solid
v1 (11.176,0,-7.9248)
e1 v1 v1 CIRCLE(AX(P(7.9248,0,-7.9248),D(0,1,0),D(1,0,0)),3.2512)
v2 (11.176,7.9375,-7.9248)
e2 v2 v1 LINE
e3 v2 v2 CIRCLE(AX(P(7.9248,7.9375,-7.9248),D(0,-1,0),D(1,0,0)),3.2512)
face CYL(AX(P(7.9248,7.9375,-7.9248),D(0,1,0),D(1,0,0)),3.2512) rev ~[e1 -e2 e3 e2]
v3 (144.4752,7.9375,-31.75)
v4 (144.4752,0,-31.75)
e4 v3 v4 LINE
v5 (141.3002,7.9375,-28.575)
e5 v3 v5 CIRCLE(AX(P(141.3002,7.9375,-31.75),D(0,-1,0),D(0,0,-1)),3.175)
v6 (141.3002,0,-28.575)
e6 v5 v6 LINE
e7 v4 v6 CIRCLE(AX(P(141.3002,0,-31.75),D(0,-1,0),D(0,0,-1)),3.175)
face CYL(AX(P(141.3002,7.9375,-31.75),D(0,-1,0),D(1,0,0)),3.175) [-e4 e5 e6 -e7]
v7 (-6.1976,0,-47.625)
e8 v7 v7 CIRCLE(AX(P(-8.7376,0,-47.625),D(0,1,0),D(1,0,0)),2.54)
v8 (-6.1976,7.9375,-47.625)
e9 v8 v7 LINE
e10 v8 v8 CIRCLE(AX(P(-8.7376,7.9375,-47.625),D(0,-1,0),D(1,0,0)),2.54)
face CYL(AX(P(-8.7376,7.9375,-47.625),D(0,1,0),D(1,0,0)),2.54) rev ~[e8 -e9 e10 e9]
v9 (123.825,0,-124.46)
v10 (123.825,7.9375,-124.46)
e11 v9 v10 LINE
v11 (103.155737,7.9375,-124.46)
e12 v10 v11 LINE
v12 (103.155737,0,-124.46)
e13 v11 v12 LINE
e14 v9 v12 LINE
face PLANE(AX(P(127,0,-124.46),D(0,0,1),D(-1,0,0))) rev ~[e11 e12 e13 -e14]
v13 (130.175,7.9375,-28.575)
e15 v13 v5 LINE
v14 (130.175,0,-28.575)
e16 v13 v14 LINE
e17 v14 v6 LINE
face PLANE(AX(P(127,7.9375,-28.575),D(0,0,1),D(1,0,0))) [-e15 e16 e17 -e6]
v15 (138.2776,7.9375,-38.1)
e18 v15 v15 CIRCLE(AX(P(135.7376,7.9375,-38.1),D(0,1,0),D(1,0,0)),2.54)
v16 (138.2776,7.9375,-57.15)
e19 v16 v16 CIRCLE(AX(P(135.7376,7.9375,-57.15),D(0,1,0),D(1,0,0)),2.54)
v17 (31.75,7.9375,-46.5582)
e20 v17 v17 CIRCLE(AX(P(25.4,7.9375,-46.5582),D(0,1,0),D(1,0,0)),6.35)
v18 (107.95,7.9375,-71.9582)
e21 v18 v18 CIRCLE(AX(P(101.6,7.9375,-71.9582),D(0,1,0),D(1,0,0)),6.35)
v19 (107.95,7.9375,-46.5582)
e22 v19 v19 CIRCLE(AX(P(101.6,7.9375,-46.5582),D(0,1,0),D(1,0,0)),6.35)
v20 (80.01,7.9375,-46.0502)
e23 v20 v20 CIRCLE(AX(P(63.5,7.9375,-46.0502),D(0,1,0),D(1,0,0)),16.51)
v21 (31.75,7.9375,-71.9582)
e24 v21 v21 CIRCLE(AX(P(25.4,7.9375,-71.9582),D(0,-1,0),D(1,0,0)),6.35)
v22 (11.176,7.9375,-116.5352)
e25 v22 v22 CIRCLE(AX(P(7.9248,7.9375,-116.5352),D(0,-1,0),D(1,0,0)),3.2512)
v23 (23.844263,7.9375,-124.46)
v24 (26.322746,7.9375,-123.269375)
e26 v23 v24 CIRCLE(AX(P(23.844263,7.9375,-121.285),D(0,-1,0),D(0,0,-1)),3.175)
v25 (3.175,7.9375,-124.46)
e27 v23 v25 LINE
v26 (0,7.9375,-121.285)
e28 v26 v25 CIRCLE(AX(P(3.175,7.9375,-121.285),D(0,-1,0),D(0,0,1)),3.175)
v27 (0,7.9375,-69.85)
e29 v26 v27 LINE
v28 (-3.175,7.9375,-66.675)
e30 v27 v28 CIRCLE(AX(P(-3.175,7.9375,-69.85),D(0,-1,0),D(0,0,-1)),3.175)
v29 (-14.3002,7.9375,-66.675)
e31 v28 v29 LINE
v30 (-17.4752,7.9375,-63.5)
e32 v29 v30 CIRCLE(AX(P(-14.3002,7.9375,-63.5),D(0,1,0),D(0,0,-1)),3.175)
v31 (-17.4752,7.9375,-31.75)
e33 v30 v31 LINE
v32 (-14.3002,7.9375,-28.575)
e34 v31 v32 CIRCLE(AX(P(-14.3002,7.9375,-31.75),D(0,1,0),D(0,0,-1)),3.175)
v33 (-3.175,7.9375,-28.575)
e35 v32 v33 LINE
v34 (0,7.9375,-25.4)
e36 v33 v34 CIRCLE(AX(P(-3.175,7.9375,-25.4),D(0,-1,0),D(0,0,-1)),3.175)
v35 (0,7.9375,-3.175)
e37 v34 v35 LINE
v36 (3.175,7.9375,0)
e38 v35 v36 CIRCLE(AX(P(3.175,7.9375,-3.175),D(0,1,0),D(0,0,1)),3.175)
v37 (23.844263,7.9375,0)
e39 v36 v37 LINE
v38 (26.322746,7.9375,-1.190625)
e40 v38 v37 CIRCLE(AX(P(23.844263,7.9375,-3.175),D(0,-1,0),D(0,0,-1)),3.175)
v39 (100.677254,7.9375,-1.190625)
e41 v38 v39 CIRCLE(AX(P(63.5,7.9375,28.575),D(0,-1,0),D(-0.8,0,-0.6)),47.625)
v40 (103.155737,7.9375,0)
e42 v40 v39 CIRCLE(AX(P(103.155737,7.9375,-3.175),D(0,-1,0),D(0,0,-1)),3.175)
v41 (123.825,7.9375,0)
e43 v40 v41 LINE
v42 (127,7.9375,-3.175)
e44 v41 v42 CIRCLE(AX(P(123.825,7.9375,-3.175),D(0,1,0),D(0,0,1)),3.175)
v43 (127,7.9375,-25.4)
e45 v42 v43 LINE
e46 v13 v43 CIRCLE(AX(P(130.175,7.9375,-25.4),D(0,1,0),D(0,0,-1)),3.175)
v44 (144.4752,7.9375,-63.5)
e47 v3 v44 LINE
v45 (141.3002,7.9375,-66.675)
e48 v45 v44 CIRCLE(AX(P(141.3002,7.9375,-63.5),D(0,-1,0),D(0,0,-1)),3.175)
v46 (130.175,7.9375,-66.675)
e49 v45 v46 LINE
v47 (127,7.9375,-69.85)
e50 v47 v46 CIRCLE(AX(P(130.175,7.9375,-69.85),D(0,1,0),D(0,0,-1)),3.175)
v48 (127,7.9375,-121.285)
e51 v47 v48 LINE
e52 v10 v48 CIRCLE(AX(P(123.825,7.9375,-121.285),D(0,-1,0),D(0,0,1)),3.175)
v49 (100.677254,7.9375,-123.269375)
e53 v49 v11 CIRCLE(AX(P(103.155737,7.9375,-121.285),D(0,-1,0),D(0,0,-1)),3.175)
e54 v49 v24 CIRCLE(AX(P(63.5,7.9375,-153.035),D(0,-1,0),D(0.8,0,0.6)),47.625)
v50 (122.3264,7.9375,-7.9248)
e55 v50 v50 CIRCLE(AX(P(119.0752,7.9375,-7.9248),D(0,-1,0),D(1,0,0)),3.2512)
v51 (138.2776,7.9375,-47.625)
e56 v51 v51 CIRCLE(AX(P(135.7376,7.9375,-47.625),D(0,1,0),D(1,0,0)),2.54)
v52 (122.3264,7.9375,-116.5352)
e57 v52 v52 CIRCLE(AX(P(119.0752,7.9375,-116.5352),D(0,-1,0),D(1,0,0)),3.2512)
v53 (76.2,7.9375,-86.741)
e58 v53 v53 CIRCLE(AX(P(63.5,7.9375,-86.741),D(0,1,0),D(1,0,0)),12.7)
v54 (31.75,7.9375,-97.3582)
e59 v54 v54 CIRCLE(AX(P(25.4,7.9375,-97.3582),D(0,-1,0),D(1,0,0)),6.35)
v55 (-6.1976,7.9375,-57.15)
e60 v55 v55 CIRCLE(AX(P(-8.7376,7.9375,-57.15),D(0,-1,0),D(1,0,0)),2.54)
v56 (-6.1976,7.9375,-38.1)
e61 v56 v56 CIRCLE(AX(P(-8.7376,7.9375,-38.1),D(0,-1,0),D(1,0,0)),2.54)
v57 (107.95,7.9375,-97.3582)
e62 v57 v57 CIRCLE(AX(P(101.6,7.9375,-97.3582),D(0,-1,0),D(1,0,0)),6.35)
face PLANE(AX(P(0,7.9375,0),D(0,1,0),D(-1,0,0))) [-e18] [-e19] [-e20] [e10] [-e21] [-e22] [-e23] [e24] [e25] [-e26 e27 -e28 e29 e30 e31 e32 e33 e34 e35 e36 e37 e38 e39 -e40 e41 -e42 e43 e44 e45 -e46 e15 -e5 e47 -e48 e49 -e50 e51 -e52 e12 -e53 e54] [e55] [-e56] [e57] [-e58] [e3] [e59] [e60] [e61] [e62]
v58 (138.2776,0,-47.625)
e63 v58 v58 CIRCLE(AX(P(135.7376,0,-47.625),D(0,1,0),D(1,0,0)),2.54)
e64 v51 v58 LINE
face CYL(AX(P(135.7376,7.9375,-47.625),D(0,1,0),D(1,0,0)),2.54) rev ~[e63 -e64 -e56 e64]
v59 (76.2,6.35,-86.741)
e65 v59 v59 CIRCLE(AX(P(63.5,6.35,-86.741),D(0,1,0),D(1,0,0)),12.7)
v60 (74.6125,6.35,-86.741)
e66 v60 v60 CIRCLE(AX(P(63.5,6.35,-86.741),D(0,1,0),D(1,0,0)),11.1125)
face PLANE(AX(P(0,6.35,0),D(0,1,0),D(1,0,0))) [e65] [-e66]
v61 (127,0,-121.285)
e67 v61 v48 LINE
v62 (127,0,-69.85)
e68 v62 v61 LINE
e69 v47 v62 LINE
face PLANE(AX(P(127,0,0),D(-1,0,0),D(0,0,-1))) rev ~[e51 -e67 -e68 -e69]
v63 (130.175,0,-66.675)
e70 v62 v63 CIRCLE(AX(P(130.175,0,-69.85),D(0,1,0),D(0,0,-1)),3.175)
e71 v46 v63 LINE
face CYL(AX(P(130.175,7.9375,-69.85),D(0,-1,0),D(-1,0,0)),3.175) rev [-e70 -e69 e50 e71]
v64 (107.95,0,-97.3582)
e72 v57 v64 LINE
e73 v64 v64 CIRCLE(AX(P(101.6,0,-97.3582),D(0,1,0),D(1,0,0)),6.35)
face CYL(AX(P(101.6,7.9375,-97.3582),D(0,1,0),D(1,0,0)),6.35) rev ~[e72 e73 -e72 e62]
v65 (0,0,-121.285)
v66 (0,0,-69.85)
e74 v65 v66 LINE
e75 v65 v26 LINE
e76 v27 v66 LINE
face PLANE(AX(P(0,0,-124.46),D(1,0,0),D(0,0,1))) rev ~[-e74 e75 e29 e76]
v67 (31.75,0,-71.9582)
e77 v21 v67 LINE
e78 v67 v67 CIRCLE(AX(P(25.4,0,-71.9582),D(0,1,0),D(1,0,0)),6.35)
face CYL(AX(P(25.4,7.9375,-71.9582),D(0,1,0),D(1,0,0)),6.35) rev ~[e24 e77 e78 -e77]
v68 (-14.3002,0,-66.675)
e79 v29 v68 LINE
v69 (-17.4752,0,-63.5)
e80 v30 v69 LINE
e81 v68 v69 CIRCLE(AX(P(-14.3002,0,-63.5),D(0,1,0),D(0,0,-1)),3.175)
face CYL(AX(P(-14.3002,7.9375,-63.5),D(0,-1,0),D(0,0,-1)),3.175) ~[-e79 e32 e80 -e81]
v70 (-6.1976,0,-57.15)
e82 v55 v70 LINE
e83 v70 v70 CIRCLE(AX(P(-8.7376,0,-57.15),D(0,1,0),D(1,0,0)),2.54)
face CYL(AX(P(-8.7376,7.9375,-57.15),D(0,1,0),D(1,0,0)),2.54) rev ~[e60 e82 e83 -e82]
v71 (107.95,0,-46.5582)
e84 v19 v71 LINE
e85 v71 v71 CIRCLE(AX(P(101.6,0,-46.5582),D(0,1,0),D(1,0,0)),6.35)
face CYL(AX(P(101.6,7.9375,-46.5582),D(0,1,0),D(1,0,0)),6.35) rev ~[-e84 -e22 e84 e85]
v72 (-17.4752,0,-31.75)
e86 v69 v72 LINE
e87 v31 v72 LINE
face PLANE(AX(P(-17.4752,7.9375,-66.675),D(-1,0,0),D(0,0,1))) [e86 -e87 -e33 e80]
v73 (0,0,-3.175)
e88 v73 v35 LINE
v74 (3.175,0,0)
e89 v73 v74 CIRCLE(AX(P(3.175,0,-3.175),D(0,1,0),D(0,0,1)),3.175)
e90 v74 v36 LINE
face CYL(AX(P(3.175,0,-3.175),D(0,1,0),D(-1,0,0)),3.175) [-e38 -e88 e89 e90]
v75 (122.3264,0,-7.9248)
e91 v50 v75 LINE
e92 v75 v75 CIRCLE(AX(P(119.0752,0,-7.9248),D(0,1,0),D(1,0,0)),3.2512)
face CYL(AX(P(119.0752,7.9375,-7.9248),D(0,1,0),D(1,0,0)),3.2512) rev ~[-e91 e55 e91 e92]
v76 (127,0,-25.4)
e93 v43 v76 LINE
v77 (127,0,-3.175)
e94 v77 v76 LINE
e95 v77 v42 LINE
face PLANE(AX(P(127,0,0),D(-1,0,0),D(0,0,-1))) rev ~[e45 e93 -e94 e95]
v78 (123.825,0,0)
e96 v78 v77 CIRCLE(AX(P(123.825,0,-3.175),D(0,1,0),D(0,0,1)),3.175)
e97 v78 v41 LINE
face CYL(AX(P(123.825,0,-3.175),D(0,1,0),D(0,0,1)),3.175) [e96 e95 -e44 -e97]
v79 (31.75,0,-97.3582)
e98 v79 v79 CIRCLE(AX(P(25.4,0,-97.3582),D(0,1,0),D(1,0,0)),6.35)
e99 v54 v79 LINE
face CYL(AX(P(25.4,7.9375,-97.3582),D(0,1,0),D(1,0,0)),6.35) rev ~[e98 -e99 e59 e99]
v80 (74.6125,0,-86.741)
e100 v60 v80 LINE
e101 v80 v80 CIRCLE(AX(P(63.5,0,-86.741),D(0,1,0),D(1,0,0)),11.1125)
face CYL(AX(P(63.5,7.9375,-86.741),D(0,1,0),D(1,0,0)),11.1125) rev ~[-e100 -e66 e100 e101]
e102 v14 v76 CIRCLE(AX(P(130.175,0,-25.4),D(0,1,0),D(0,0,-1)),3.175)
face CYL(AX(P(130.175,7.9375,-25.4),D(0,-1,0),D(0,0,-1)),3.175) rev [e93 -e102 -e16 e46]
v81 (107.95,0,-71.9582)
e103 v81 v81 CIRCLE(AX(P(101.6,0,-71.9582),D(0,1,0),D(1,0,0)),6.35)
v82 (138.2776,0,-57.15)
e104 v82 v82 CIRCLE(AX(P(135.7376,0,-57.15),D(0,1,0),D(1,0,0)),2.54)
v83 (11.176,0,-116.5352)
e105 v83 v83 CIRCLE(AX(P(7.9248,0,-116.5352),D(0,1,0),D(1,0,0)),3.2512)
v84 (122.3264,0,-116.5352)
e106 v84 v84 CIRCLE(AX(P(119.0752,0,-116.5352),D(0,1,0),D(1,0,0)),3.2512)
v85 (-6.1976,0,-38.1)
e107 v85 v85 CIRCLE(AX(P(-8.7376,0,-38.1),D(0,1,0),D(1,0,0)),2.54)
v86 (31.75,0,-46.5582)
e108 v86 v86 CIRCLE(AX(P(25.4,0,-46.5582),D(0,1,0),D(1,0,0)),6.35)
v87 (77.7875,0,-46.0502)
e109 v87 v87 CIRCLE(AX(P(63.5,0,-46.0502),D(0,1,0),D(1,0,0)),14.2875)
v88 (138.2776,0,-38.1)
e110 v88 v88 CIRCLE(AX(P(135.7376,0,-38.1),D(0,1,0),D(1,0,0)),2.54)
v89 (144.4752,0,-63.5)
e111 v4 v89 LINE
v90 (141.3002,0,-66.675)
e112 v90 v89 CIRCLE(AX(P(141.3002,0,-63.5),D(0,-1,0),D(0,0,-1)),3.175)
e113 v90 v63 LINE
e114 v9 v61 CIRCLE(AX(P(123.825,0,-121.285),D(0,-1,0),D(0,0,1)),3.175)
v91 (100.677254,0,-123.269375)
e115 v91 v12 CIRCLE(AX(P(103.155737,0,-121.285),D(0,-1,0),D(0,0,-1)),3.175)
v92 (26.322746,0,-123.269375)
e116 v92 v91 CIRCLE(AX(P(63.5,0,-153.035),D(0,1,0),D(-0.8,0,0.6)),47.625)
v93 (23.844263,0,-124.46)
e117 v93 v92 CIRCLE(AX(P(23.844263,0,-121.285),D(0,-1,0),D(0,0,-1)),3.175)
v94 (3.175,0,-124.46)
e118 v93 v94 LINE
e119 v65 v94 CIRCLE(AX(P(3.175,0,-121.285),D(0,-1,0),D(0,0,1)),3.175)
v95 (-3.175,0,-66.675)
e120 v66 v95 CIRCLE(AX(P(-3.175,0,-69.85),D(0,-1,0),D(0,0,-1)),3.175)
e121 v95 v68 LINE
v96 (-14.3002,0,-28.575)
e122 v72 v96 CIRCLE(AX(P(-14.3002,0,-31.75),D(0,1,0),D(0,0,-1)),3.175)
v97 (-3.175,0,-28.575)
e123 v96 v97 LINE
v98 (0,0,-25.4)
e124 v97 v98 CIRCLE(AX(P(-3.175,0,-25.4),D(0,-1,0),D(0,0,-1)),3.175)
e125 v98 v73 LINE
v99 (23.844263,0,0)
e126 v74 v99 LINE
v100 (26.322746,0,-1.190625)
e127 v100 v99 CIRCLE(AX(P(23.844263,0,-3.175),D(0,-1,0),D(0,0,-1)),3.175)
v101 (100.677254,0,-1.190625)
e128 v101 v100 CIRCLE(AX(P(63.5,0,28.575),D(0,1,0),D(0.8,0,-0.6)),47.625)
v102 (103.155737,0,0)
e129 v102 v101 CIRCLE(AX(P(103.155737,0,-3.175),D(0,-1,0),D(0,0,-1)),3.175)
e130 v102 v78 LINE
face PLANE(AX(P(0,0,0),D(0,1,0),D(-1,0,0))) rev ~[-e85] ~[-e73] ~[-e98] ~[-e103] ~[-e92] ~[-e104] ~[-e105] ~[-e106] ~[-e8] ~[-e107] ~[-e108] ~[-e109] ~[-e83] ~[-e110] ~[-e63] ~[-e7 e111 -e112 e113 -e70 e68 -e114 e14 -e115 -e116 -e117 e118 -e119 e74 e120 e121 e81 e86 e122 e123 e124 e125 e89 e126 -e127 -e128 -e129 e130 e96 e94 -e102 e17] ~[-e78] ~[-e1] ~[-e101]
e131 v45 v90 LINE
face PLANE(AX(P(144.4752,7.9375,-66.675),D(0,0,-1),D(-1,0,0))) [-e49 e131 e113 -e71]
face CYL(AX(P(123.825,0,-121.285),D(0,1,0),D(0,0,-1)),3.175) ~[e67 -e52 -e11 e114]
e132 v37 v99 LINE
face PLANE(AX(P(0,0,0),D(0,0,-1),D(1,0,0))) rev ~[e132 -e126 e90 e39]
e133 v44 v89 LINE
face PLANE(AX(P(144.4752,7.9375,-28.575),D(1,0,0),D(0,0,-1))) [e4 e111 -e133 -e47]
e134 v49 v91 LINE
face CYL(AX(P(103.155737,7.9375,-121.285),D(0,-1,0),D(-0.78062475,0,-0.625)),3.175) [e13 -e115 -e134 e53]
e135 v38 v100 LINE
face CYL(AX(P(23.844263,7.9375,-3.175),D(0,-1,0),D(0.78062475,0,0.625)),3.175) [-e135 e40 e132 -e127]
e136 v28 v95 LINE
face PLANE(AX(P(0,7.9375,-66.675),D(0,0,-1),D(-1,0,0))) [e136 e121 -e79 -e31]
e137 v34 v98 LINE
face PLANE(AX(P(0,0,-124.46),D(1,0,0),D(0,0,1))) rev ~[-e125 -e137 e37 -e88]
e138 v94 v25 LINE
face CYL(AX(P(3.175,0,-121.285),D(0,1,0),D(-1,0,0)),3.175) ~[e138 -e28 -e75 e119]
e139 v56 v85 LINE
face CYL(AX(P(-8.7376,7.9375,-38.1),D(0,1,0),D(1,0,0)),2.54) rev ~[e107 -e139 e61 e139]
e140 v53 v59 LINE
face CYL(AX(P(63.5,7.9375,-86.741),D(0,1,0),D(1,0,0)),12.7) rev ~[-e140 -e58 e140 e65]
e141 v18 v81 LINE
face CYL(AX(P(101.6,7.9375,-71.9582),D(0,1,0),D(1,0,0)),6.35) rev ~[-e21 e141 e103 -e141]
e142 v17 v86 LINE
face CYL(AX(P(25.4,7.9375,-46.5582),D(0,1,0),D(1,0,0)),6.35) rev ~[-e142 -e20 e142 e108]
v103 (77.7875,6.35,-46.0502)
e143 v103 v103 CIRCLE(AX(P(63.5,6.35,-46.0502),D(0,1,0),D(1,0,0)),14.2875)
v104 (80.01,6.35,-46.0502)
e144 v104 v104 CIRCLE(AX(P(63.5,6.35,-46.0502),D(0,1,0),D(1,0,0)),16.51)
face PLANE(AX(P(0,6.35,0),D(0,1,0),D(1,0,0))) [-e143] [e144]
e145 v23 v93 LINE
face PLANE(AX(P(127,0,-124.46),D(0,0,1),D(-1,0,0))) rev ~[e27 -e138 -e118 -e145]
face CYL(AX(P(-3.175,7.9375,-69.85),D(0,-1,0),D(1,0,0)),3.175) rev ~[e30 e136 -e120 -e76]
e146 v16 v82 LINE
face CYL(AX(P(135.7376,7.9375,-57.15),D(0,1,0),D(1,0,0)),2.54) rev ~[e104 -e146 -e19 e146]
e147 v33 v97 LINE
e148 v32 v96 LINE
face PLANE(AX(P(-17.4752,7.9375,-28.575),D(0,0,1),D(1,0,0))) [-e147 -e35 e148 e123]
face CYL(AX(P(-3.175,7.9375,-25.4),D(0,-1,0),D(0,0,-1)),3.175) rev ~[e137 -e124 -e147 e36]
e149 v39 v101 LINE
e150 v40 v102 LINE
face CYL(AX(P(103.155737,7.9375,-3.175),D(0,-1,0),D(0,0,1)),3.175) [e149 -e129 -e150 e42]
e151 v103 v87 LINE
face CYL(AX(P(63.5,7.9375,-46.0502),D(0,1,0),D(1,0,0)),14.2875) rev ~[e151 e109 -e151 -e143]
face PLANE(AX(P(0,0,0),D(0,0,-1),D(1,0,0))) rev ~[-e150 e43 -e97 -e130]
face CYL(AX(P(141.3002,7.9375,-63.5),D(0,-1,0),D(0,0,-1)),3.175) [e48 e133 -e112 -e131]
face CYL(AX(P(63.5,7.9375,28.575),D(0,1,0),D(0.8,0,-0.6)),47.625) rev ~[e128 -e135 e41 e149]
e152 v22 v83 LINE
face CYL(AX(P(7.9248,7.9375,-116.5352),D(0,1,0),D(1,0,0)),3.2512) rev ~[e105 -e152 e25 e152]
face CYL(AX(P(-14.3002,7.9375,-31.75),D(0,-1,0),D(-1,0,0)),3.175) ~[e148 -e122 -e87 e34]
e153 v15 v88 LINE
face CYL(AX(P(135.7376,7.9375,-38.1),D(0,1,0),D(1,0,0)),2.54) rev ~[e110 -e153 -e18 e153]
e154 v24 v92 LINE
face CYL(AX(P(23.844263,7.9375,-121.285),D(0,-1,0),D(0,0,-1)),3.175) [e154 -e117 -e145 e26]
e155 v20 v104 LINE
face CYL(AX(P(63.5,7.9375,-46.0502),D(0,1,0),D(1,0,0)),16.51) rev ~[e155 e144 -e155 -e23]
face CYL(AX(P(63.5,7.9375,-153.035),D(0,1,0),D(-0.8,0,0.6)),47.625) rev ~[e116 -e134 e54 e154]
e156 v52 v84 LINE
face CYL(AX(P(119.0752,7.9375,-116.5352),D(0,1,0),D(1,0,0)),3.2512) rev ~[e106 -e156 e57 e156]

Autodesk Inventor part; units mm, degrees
ref_plane "YZ Plane" through (0, 0, 0) normal (1, 0, 0) x (0, 1, 0)
ref_plane "XZ Plane" through (0, 0, 0) normal (0, 1, 0) x (-1, 0, 0)
ref_plane "XY Plane" through (0, 0, 0) normal (0, 0, 1) x (1, 0, 0)
sketch "Sketch1" plane through (0, 0, 0) normal (0, 1, 0) x (-1, 0, 0)
  line L0 (0, 0) -> (-127, 0)
  line L1 (-127, 0) -> (-127, -124.46)
  line L2 (-127, -124.46) -> (0, -124.46)
  line L3 (0, -124.46) -> (0, 0)
  dimension "d0" = 127
  dimension "d1" = 124.46
extrude "Extrusion1" add sketch "Sketch1" along normal blind 7.9375
sketch "Sketch2" plane through (0, 7.9375, 0) normal (0, 1, 0) x (1, 0, 0)
  line L0 (127, 124.46) -> (0, 124.46) projected
  line L1 (0, 124.46) -> (7.9248, 124.46)
  line L2 (7.9248, 124.46) -> (7.9248, 116.5352)
  line L3 (0, 0) -> (127, 0) projected
  line L4 (127, 0) -> (119.0752, 0)
  line L5 (119.0752, 0) -> (119.0752, 7.9248)
  line L6 (0, 0) -> (7.9248, 0)
  line L7 (7.9248, 0) -> (7.9248, 7.9248)
  line L8 (127, 124.46) -> (119.0752, 124.46)
  line L9 (119.0752, 124.46) -> (119.0752, 116.5352)
  circle A0 centre (7.9248, 116.5352) radius 3.2512
  circle A1 centre (119.0752, 7.9248) radius 3.2512
  circle A2 centre (119.0752, 116.5352) radius 3.2512
  circle A3 centre (7.9248, 7.9248) radius 3.2512
  line L10 (0, 124.46) -> (25.4, 124.46)
  line L11 (25.4, 124.46) -> (25.4, 97.3582)
  line L12 (127, 0) -> (101.6, 0)
  line L13 (0, 0) -> (25.4, 0)
  line L14 (127, 124.46) -> (101.6, 124.46)
  line L15 (101.6, 124.46) -> (101.6, 97.3582)
  circle A4 centre (25.4, 97.3582) radius 6.35
  circle A5 centre (25.4, 46.5582) radius 6.35
  circle A6 centre (101.6, 46.5582) radius 6.35
  circle A7 centre (101.6, 97.3582) radius 6.35
  line L16 (25.4, 97.3582) -> (25.4, 71.9582)
  circle A8 centre (25.4, 71.9582) radius 6.35
  circle A9 centre (101.6, 71.9582) radius 6.35
  line L17 (0, 0) -> (63.5, 0)
  circle A10 centre (63.5, 46.0502) radius 14.2875
  line L18 (63.5, 46.0502) -> (63.5, 86.741)
  circle A11 centre (63.5, 86.741) radius 11.1125
  line L19 (127, 0) -> (127, 124.46) projected
  dimension "d4" = 7.9248
  dimension "d5" = 7.9248
  dimension "d6" = 7.9248
  dimension "d7" = 7.9248
  dimension "d8" = 6.5024
  dimension "d9" = 6.5024
  dimension "d10" = 25.4
  dimension "d11" = 27.1018
  dimension "d12" = 25.4
  dimension "d14" = 12.7
  dimension "d15" = 25.4
  dimension "d17" = 28.575
  dimension "d18" = 40.6908
  dimension "d66" = 27.1018
  dimension "d75" = 25.4
  dimension "d76" = 37.719
  dimension "d77" = 38.1
  dimension "d78" = 38.1
  dimension "d80" = 25.4
  dimension "d81" = 25.4
  dimension "d84" = 25.4
extrude "Extrusion2" cut sketch "Sketch2" against normal blind 7.9375
fillet "Fillet1" radius 3.175 4 edges at (127, 3.9688, 0) (127, 3.9688, -124.46) (0, 3.9688, 0) (0, 3.9688, -124.46)
sketch "Sketch6" plane through (0, 7.9375, 0) normal (0, 1, 0) x (1, 0, 0)
  circle A0 centre (7.9248, 7.9248) radius 3.2512 projected
  line L0 (7.9248, 7.9248) -> (7.9248, 28.2448)
  line L1 (7.9248, 28.2448) -> (-3.1578, 28.2448)
  line L2 (-3.1578, 28.2448) -> (0, 28.575)
  line L3 (0, 121.285) -> (0, 3.175) projected
  line L4 (0, 28.575) -> (0, 66.675)
  line L5 (0, 66.675) -> (-17.4752, 66.675)
  line L6 (-17.4752, 66.675) -> (-17.4752, 28.575)
  line L7 (-17.4752, 28.575) -> (0, 28.575)
  line L8 (127, 3.175) -> (127, 121.285) projected
  line L9 (127, 28.575) -> (144.4752, 28.575)
  line L10 (144.4752, 28.575) -> (144.4752, 66.675)
  line L11 (144.4752, 66.675) -> (127, 66.675)
  line L12 (127, 66.675) -> (127, 28.575)
  line L13 (127, 28.575) -> (127, 31.75)
  circle A1 centre (119.0752, 7.9248) radius 3.2512 projected
  circle A2 centre (119.0752, 7.9248) radius 3.2512
  line L14 (3.175, 0) -> (123.825, 0) projected
  point P0 (0, 0)
  point P1 (0, 3.175)
  dimension "d47" = 3.175
  dimension "d48" = 38.1
  dimension "d49" = 17.4752
  dimension "d50" = 17.4752
  dimension "d67" = 3.175
  dimension "d69" = 38.1
  dimension "d82" = 28.575
  dimension "d83" = 28.575
extrude "Extrusion6" add sketch "Sketch6" against normal blind 7.9375 contours L7 L6 L5 L3 | L8 L11 L10 L9
sketch "Sketch7" plane through (0, 7.9375, 0) normal (0, 1, 0) x (1, 0, 0)
  line L0 (-17.4752, 28.575) -> (-17.4752, 66.675) projected
  line L1 (-17.4752, 66.675) -> (-8.7376, 66.675)
  line L2 (-17.4752, 66.675) -> (0, 66.675) projected
  line L3 (-8.7376, 66.675) -> (-8.7376, 28.575)
  line L4 (-17.4752, 28.575) -> (0, 28.575) projected
  line L5 (-8.7376, 66.675) -> (-8.7376, 57.15)
  line L6 (-8.7376, 57.15) -> (-8.7376, 47.625)
  line L7 (-8.7376, 47.625) -> (-8.7376, 38.1)
  circle A0 centre (-8.7376, 47.625) radius 2.54
  circle A1 centre (-8.7376, 57.15) radius 2.54
  circle A2 centre (-8.7376, 38.1) radius 2.54
  line L8 (144.4752, 66.675) -> (144.4752, 28.575) projected
  line L9 (144.4752, 57.15) -> (135.7376, 57.15)
  line L10 (144.4752, 47.625) -> (135.7376, 47.625)
  line L11 (144.4752, 38.1) -> (135.7376, 38.1)
  circle A3 centre (135.7376, 38.1) radius 2.54
  circle A4 centre (135.7376, 47.625) radius 2.54
  circle A5 centre (135.7376, 57.15) radius 2.54
  line L12 (144.4752, 66.675) -> (127, 66.675) projected
  point P0 (0, 0)
  dimension "d53" = 9.525
  dimension "d54" = 9.525
  dimension "d55" = 5.08
  dimension "d56" = 8.7376
  dimension "d70" = 9.525
  dimension "d71" = 9.525
  dimension "d72" = 9.525
extrude "Extrusion7" cut sketch "Sketch7" against normal blind 7.9375 contours A2 L3 | L3 A2 | A1 L3 | L3 A1 | A0 L3 | L3 A0 | A3 | A4 | A5
fillet "Fillet3" radius 3.175 8 edges at (127, 3.9688, -28.575) (144.4752, 3.9688, -28.575) (144.4752, 3.9688, -66.675) (-17.4752, 3.9688, -28.575) (127, 3.9688, -66.675) (0, 3.9688, -28.575) (-17.4752, 3.9688, -66.675) (0, 3.9688, -66.675)
sketch "Sketch8" plane through (0, 7.9375, 0) normal (0, 1, 0) x (1, 0, 0)
  line L0 (123.825, 124.46) -> (3.175, 124.46) projected
  line L1 (63.5, 124.46) -> (63.5, 105.41)
  line L2 (63.5, 105.41) -> (25.4, 105.41)
  line L3 (25.4, 105.41) -> (101.6, 105.41)
  line L4 (25.4, 105.41) -> (25.4, 124.46)
  line L5 (101.6, 105.41) -> (101.6, 124.46)
  arc A0 (25.4, 124.46) -> (101.6, 124.46) centre (63.5, 153.035) ccw
  line L6 (3.175, 0) -> (123.825, 0) projected
  line L7 (25.4, 0) -> (101.6, 0)
  line L8 (63.5, 0) -> (63.5, 19.05)
  arc A1 (101.6, 0) -> (25.4, 0) centre (63.5, -28.575) ccw
  point P0 (0, 0)
  dimension "d60" = 19.05
  dimension "d61" = 38.1
  dimension "d62" = 76.2
  dimension "d63" = 19.05
extrude "Extrusion8" cut sketch "Sketch8" against normal blind 7.9375 contours A0 L1 L0 | L1 A0 L0 | A1 L8 L6 | L8 A1 L6
fillet "Fillet4" radius 3.175 4 edges at (25.4, 3.9688, -124.46) (101.6, 3.9688, -124.46) (101.6, 3.9688, 0) (25.4, 3.9688, 0)
sketch "Sketch12" plane through (0, 7.9375, 0) normal (0, 1, 0) x (1, 0, 0)
  circle A0 centre (63.5, 46.0502) radius 14.2875 projected
  circle A1 centre (63.5, 46.0502) radius 16.51
  circle A2 centre (63.5, 46.0502) radius 14.2875
  circle A3 centre (63.5, 86.741) radius 11.1125 projected
  circle A4 centre (63.5, 86.741) radius 11.1125
  circle A5 centre (63.5, 86.741) radius 12.7
  point P0 (0, 0)
  dimension "d97" = 33.02
  dimension "d98" = 25.4
extrude "Extrusion9" cut sketch "Sketch12" against normal blind 1.5875
properties part number "2nd Plate" material "Aluminum 6061"
